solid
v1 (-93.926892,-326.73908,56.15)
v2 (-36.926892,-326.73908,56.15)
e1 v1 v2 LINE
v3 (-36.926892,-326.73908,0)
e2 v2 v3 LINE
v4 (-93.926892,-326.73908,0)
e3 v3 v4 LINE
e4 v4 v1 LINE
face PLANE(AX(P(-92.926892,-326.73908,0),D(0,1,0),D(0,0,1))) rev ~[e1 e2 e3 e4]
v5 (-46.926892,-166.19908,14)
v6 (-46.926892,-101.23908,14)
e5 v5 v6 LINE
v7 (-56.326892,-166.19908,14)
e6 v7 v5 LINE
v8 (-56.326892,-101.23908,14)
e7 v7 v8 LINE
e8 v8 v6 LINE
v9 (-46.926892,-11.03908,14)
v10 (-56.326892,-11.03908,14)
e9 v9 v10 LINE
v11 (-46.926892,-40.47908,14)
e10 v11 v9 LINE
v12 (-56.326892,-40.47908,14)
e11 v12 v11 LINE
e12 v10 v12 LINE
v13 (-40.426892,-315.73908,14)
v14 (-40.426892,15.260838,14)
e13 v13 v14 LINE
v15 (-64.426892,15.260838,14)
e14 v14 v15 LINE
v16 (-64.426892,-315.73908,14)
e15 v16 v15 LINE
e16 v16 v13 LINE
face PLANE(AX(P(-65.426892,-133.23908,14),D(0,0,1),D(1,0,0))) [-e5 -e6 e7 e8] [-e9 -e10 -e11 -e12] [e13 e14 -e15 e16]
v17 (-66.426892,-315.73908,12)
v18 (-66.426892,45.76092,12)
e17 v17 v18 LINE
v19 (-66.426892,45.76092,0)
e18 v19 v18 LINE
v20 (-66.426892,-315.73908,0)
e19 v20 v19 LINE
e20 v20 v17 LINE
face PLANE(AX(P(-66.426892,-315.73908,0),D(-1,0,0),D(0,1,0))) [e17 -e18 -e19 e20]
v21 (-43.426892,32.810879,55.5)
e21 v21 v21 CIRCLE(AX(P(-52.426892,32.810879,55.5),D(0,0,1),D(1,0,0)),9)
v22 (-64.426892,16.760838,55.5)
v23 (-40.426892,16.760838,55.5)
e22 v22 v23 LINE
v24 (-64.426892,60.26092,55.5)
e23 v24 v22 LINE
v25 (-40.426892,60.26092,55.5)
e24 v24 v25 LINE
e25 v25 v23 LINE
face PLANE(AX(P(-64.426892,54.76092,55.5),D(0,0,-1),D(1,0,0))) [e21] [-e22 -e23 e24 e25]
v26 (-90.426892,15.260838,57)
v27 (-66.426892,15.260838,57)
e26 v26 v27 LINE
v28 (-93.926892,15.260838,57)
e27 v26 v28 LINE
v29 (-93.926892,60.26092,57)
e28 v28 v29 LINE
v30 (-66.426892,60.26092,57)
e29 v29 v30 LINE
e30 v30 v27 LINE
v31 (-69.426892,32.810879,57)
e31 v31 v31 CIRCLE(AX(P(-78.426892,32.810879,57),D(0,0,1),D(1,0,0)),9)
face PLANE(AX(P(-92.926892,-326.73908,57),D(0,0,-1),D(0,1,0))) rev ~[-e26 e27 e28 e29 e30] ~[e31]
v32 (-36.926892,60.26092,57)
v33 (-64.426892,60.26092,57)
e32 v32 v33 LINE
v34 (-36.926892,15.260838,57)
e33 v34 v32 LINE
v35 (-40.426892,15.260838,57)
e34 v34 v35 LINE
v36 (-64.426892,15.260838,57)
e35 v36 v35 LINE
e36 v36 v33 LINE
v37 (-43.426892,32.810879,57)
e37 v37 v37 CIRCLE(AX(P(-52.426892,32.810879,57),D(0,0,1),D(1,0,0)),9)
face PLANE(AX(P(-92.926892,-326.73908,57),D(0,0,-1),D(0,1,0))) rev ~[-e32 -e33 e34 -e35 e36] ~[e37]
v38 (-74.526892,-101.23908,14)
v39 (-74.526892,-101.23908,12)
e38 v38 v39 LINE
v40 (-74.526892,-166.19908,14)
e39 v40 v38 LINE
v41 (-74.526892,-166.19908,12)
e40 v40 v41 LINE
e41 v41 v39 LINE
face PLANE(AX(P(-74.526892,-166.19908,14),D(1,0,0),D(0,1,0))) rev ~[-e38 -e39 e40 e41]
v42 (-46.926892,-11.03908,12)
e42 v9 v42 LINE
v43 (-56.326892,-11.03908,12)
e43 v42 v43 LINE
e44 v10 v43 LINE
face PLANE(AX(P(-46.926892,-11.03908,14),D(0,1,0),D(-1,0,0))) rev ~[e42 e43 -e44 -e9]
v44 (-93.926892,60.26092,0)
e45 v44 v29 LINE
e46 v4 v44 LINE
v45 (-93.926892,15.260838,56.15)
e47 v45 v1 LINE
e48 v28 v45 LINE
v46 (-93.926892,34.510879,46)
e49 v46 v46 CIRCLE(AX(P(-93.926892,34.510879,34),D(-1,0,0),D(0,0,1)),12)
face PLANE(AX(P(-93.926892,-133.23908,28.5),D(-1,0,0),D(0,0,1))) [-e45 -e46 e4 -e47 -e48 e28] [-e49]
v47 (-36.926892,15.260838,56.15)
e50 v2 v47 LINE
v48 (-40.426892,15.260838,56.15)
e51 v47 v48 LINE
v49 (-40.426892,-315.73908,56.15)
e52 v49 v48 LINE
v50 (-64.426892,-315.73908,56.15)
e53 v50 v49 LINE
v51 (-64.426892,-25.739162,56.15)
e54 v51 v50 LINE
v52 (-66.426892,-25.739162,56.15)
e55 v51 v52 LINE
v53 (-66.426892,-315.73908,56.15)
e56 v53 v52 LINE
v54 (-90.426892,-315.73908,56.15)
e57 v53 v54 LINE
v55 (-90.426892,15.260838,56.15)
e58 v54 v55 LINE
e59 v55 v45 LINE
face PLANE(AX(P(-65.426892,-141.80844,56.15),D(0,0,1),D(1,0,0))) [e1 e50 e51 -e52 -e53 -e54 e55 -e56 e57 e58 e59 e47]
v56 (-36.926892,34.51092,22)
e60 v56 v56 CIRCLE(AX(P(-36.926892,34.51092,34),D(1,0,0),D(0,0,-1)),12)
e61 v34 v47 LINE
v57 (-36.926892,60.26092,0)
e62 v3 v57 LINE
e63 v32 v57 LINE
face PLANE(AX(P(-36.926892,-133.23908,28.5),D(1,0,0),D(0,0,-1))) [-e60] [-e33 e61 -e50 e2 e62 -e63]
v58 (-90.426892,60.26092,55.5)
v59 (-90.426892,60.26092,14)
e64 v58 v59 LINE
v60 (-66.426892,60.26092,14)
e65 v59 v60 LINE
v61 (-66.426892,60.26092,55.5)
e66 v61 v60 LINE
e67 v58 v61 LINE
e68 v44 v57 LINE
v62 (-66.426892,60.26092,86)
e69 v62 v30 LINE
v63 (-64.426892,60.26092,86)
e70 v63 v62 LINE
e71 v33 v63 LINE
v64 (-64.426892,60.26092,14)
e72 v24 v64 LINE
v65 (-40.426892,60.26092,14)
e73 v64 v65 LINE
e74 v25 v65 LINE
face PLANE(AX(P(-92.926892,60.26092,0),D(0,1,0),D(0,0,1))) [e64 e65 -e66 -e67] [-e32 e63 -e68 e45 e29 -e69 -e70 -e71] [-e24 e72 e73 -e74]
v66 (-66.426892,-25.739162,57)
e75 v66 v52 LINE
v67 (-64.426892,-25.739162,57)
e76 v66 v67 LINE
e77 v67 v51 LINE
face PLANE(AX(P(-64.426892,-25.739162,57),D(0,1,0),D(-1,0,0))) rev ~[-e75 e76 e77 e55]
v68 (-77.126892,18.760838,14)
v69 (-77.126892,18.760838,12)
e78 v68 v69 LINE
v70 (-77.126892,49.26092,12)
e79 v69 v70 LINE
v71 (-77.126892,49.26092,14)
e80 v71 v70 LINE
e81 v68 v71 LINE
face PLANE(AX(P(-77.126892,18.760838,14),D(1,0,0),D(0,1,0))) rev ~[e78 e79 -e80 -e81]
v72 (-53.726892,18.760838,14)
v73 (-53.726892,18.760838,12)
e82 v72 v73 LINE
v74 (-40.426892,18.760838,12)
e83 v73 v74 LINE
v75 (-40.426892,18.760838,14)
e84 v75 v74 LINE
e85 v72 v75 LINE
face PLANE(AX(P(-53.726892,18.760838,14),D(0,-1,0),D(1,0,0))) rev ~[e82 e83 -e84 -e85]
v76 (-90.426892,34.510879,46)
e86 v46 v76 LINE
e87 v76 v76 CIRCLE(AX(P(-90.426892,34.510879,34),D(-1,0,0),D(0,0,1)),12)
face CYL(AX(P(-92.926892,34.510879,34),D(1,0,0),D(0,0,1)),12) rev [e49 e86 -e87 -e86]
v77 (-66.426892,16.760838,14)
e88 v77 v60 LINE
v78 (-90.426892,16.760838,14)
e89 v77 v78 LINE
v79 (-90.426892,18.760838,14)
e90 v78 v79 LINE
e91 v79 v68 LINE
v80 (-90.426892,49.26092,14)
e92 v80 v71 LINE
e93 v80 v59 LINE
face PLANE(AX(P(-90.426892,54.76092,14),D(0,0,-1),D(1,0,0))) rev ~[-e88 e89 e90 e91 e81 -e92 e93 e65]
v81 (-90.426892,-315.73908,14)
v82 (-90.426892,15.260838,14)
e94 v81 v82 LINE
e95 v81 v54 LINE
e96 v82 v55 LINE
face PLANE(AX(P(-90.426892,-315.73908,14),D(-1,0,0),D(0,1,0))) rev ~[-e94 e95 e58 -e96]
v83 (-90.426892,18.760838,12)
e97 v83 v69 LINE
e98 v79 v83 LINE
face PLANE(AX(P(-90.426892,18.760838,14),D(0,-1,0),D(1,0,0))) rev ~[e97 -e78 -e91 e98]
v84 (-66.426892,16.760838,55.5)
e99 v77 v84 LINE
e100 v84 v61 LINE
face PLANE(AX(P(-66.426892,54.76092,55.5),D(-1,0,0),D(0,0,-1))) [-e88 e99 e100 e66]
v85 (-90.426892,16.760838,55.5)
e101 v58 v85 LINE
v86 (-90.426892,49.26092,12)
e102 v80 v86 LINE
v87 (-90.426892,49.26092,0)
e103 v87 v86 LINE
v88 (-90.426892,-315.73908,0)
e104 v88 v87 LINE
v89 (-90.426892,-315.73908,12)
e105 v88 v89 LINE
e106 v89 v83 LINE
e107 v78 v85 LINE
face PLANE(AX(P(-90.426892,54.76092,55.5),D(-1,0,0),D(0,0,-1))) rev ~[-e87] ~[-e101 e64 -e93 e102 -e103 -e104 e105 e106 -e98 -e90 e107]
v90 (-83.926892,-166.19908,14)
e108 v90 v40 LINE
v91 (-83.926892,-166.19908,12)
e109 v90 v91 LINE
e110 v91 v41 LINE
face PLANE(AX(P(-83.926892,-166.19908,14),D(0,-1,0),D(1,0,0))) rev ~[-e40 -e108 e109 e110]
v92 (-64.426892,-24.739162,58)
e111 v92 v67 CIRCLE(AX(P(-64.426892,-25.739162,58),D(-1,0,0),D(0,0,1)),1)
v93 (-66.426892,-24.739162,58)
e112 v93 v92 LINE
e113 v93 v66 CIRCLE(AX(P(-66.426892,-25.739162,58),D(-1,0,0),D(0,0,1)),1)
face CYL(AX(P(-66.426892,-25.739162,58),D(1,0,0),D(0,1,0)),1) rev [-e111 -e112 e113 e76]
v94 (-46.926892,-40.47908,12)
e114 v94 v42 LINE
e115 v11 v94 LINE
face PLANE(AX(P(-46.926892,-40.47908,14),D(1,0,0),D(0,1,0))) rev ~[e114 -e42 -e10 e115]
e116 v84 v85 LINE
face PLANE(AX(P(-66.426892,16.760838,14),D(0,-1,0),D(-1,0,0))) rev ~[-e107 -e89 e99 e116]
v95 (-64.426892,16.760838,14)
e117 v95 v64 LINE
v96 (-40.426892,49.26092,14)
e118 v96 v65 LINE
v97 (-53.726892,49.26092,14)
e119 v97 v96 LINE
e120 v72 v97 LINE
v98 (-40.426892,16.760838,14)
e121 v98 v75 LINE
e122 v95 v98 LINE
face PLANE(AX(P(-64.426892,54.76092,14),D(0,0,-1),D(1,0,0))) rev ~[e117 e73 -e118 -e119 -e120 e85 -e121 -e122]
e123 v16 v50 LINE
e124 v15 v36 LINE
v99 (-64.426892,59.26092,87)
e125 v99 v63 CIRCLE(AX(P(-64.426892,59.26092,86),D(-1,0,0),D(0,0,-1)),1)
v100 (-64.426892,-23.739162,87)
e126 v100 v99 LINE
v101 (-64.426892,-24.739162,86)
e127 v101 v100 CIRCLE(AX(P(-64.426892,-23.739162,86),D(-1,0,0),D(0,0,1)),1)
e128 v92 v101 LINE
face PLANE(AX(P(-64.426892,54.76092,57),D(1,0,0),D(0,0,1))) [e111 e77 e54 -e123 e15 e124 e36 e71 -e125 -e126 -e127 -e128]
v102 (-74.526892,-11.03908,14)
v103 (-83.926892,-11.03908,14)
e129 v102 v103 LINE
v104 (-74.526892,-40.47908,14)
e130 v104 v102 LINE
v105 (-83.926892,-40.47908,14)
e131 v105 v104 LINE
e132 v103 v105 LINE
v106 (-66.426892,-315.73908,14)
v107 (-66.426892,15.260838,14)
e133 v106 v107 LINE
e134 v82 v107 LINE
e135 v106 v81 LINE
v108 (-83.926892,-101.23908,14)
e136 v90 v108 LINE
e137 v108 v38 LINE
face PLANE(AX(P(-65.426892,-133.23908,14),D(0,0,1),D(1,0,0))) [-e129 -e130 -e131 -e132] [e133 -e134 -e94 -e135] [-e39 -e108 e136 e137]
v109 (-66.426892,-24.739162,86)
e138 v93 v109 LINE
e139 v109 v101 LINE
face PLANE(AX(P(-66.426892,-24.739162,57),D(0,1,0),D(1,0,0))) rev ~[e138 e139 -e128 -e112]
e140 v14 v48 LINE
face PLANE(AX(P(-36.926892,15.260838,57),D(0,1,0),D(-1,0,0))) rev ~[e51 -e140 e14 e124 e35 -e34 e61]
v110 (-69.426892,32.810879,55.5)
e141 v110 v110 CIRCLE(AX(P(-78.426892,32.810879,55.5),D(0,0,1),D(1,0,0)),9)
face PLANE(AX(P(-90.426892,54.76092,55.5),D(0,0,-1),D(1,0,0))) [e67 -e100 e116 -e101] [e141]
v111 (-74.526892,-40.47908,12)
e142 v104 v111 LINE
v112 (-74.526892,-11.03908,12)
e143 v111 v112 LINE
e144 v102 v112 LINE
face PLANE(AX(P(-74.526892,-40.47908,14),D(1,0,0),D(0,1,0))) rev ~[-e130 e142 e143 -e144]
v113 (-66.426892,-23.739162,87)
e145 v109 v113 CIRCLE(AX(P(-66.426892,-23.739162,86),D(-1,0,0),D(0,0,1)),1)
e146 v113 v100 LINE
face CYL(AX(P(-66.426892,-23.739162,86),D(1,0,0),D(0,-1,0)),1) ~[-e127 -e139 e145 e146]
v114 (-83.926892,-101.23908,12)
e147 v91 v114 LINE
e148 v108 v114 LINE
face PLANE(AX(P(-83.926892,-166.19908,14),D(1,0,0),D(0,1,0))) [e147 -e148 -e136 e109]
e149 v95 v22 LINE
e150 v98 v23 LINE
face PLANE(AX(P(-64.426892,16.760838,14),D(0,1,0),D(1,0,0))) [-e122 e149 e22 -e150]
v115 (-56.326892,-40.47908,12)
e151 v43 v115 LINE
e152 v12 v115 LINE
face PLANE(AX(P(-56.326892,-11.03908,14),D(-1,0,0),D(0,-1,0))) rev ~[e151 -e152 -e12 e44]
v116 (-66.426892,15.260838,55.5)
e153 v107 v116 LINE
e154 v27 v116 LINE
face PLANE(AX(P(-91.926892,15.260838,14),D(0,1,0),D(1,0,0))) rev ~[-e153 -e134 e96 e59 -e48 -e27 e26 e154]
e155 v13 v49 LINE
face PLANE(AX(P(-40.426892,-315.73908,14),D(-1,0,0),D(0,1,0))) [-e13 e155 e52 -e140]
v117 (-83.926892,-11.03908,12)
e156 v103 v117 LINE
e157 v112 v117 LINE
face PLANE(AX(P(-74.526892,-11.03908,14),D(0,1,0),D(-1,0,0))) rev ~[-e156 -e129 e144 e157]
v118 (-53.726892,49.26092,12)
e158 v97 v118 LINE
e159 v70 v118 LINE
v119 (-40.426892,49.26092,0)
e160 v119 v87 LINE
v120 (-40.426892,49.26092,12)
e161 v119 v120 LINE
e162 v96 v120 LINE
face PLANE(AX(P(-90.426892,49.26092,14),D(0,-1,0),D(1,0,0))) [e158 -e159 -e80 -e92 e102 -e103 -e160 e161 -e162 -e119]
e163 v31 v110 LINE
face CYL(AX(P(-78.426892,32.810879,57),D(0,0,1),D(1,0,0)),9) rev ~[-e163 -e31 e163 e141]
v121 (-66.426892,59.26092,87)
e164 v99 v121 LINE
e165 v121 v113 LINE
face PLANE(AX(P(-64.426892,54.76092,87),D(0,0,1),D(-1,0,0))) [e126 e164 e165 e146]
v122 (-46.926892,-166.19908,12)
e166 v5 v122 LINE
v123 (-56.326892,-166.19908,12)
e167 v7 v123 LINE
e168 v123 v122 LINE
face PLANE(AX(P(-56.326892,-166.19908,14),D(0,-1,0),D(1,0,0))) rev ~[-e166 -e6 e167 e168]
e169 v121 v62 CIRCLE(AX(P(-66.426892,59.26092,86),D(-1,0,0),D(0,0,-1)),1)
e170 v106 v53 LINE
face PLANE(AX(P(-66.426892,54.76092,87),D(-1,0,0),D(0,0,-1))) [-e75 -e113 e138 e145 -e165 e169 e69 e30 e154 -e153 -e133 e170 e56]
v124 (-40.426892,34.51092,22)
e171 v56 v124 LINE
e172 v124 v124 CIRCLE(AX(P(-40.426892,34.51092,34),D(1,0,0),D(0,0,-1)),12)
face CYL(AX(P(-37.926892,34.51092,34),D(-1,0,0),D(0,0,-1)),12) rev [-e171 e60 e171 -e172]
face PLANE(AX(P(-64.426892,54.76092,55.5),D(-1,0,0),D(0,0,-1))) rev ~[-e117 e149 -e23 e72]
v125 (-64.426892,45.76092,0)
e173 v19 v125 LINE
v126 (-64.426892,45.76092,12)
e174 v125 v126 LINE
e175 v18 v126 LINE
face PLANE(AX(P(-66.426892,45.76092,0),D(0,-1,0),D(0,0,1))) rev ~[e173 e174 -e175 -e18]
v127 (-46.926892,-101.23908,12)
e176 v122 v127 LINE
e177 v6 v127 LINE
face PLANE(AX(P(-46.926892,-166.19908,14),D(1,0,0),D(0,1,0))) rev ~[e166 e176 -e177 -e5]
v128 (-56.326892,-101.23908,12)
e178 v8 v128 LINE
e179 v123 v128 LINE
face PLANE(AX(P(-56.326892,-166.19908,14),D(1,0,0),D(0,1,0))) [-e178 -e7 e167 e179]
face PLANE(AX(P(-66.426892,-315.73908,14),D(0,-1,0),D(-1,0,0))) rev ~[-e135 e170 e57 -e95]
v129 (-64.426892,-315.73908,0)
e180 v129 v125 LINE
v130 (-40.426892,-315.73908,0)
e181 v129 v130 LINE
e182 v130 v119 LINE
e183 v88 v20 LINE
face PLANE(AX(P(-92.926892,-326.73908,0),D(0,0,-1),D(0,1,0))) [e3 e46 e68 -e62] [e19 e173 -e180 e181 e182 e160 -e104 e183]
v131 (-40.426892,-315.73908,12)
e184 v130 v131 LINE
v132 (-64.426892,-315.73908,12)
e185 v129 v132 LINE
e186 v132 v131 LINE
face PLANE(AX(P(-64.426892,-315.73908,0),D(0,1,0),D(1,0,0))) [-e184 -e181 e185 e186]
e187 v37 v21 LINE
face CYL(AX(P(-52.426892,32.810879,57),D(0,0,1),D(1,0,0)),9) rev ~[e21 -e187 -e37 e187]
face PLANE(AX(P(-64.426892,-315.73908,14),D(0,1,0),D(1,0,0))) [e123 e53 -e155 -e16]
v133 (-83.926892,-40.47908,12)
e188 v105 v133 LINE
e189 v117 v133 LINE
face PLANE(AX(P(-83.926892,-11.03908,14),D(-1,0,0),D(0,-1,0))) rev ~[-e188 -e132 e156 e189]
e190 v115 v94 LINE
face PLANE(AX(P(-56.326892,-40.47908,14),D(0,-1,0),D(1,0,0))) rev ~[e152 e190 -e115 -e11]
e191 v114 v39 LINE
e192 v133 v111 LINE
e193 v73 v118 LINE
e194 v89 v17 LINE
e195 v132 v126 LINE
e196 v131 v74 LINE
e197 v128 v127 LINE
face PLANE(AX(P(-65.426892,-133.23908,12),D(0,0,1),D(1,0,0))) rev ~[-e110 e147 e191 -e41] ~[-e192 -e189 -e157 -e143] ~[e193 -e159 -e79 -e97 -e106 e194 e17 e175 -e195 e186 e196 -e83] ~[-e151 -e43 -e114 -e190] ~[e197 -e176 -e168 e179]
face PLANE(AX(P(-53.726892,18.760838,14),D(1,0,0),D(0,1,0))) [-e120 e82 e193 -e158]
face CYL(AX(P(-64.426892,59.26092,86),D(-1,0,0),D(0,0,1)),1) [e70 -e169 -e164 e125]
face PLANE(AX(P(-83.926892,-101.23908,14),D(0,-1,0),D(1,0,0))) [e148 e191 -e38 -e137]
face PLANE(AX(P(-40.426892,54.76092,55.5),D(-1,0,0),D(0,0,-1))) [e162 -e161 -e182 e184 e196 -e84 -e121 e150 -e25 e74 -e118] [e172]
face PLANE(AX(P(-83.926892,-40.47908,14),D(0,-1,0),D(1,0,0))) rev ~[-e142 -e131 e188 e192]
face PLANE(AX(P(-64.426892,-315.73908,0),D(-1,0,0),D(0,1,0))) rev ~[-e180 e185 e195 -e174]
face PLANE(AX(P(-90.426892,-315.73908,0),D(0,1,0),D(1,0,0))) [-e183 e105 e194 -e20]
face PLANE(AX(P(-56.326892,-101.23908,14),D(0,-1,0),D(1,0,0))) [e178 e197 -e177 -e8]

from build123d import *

# Parameters (mm, degrees)
SZKIC1_W                     = 53
SZKIC1_H                     = 374
SZKIC1_W_2                   = 24
SZKIC1_H_2                   = 365
DODANIE_WYCI_GNI_CIE2_DEPTH  = 12
SZKIC2_W                     = 12
SZKIC2_H                     = 3.5
WYTNIJ_WYCI_GNI_CIE1_DEPTH   = 2
SZKIC3_W                     = 53
SZKIC3_H                     = 374
DODANIE_WYCI_GNI_CIE3_DEPTH  = 2
SZKIC4_W                     = 13.3
SZKIC4_H                     = 30.500081729
SZKIC4_W_2                   = 9.4
SZKIC4_H_2                   = 64.96
WYTNIJ_WYCI_GNI_CIE2_DEPTH   = 2
SZKIC5_W                     = 2
SZKIC5_H                     = 374
DODANIE_WYCI_GNI_CIE4_DEPTH  = 43
DODANIE_WYCI_GNI_CIE5_DEPTH  = 41.5
SZKIC7_W                     = 25.5
SZKIC7_H                     = 38.500081729
DODANIE_WYCI_GNI_CIE6_DEPTH  = 1.5
SZKIC9_R                     = 12
WYTNIJ_WYCI_GNI_CIE4_DEPTH   = 1.5
DODANIE_WYCI_GNI_CIE7_DEPTH  = 43
DODANIE_WYCI_GNI_CIE8_DEPTH  = 43
SZKIC12_R                    = 12
WYTNIJ_WYCI_GNI_CIE5_DEPTH   = 1.5
SZKIC13_R                    = 9
WYTNIJ_WYCI_GNI_CIE6_DEPTH   = 1.5
SZKIC14_W                    = 57
SZKIC14_H                    = 374
SZKIC14_R                    = 12
DODANIE_WYCI_GNI_CIE9_DEPTH  = 1
SZKIC15_W                    = 57
SZKIC15_H                    = 374
SZKIC15_R                    = 12
DODANIE_WYCI_GNI_CIE10_DEPTH = 1
SZKIC16_W                    = 55
SZKIC16_H                    = 57
SZKIC16_W_2                  = 24
SZKIC16_H_2                  = 41.5
DODANIE_WYCI_GNI_CIE11_DEPTH = 1
SZKIC17_W                    = 55
SZKIC17_H                    = 57
DODANIE_WYCI_GNI_CIE12_DEPTH = 1
DODANIE_WYCI_GNI_CIE13_DEPTH = 30
SZKIC20_W                    = 55
SZKIC20_H                    = 57
DODANIE_WYCI_GNI_CIE14_DEPTH = 5.5
SZKIC21_W                    = 24
SZKIC21_H                    = 41.5
DODANIE_WYCI_GNI_CIE15_DEPTH = 5.5
SZKIC22_W                    = 57
SZKIC22_H                    = 387
SZKIC22_R                    = 12
DODANIE_WYCI_GNI_CIE16_DEPTH = 1
SZKIC23_W                    = 57
SZKIC23_H                    = 387
SZKIC23_R                    = 12
DODANIE_WYCI_GNI_CIE17_DEPTH = 1
ZAOKR_GLENIE1_R              = 1
ZAOKR_GLENIE2_R              = 1
ZAOKR_GLENIE3_R              = 1
WYTNIJ_WYCI_GNI_CIE7_DEPTH   = 0.85


with BuildPart() as part:
    # Szkic1 → Dodanie-wyciągnięcie2 (new body)
    with BuildSketch(Plane.XY):
        with Locations((-65.426891924, -133.239080048)):
            Rectangle(SZKIC1_W, SZKIC1_H)
        with Locations((-78.426891924, -133.239080048)):
            Rectangle(SZKIC1_W_2, SZKIC1_H_2, mode=Mode.SUBTRACT)
        with Locations((-52.426891924, -133.239080048)):
            Rectangle(SZKIC1_W_2, SZKIC1_H_2, mode=Mode.SUBTRACT)
    extrude(amount=DODANIE_WYCI_GNI_CIE2_DEPTH)

    # Szkic2 → Wytnij-wyciągnięcie1 (cut)
    with BuildSketch(Plane.ZY.offset(66.426891924)):
        with Locations((6, 47.510919952)):
            Rectangle(SZKIC2_W, SZKIC2_H)
    extrude(amount=-WYTNIJ_WYCI_GNI_CIE1_DEPTH, mode=Mode.SUBTRACT)

    # Szkic3 → Dodanie-wyciągnięcie3 (add)
    with BuildSketch(Plane.XY.offset(12)):
        with Locations((-65.426891924, -133.239080048)):
            Rectangle(SZKIC3_W, SZKIC3_H)
    extrude(amount=DODANIE_WYCI_GNI_CIE3_DEPTH)

    # Szkic4 → Wytnij-wyciągnięcie2 (cut)
    with BuildSketch(Plane.XY.offset(14)):
        Polygon((-46.926891924, -11.039080048), (-56.326891924, -11.039080048), (-56.326891924, -35.399080048), (-56.326891924, -40.479080048), (-46.926891924, -40.479080048), (-46.926891924, -35.399080048), align=None)
        with Locations((-47.076891924, 34.010879088)):
            Rectangle(SZKIC4_W, SZKIC4_H)
        with Locations((-83.776891924, 34.010879088)):
            Rectangle(SZKIC4_W, SZKIC4_H)
        Polygon((-74.526891924, -35.399080048), (-74.526891924, -11.039080048), (-83.926891924, -11.039080048), (-83.926891924, -35.399080048), (-83.926891924, -40.479080048), (-74.526891924, -40.479080048), align=None)
        with Locations((-51.626891924, -133.719080048)):
            Rectangle(SZKIC4_W_2, SZKIC4_H_2)
        with Locations((-79.226891924, -133.719080048)):
            Rectangle(SZKIC4_W_2, SZKIC4_H_2)
    extrude(amount=-WYTNIJ_WYCI_GNI_CIE2_DEPTH, mode=Mode.SUBTRACT)

    # Szkic5 → Dodanie-wyciągnięcie4 (add)
    with BuildSketch(Plane.XY.offset(14)):
        with Locations((-65.426891924, -133.239080048)):
            Rectangle(SZKIC5_W, SZKIC5_H)
    extrude(amount=DODANIE_WYCI_GNI_CIE4_DEPTH)

    # Szkic6 → Dodanie-wyciągnięcie5 (add)
    with BuildSketch(Plane.XY.offset(14)):
        Polygon((-64.426891924, 16.760838223), (-40.426891924, 16.760838223), (-40.426891924, 53.760919952), (-38.926891924, 53.760919952), (-38.926891924, 15.260838223), (-64.426891924, 15.260838223), align=None)
        Polygon((-90.426891924, 53.760919952), (-91.926891924, 53.760919952), (-91.926891924, 15.260838223), (-66.426891924, 15.260838223), (-66.426891924, 16.760838223), (-90.426891924, 16.760838223), align=None)
    extrude(amount=DODANIE_WYCI_GNI_CIE5_DEPTH)

    # Szkic7 → Dodanie-wyciągnięcie6 (add)
    with BuildSketch(Plane.XY.offset(55.5)):
        with Locations((-51.676891924, 34.510879088)):
            Rectangle(SZKIC7_W, SZKIC7_H)
        with Locations((-79.176891924, 34.510879088)):
            Rectangle(SZKIC7_W, SZKIC7_H)
    extrude(amount=DODANIE_WYCI_GNI_CIE6_DEPTH)

    # Szkic9 → Wytnij-wyciągnięcie4 (cut)
    with BuildSketch(Plane.ZY.offset(91.926891924)):
        with Locations((34, 34.510879088)):
            Circle(SZKIC9_R)
    extrude(amount=-WYTNIJ_WYCI_GNI_CIE4_DEPTH, mode=Mode.SUBTRACT)

    # Szkic10 → Dodanie-wyciągnięcie7 (add)
    with BuildSketch(Plane.XY.offset(14)):
        Polygon((-91.926891924, 15.260838223), (-91.926891924, -320.239080048), (-66.426891924, -320.239080048), (-66.426891924, -315.739080048), (-90.426891924, -315.739080048), (-90.426891924, 15.260838223), align=None)
    extrude(amount=DODANIE_WYCI_GNI_CIE7_DEPTH)

    # Szkic11 → Dodanie-wyciągnięcie8 (add)
    with BuildSketch(Plane.XY.offset(14)):
        Polygon((-38.926891924, 15.260838223), (-38.926891924, -320.239080048), (-64.426891924, -320.239080048), (-64.426891924, -315.739080048), (-40.426891924, -315.739080048), (-40.426891924, 15.260838223), align=None)
    extrude(amount=DODANIE_WYCI_GNI_CIE8_DEPTH)

    # Szkic12 → Wytnij-wyciągnięcie5 (cut)
    with BuildSketch(Plane(origin=(-38.926891924, 0, 0), x_dir=(0, 0, -1), z_dir=(1, 0, 0))):
        with Locations((-34, 34.510919952)):
            Circle(SZKIC12_R)
    extrude(amount=-WYTNIJ_WYCI_GNI_CIE5_DEPTH, mode=Mode.SUBTRACT)

    # Szkic13 → Wytnij-wyciągnięcie6 (cut)
    with BuildSketch(Plane.XY.offset(57)):
        with Locations((-78.426891924, 32.810879088)):
            Circle(SZKIC13_R)
        with Locations((-52.426891924, 32.810879088)):
            Circle(SZKIC13_R)
    extrude(amount=-WYTNIJ_WYCI_GNI_CIE6_DEPTH, mode=Mode.SUBTRACT)

    # Szkic14 → Dodanie-wyciągnięcie9 (add)
    with BuildSketch(Plane(origin=(-38.926891924, 0, 0), x_dir=(0, 0, -1), z_dir=(1, 0, 0))):
        with Locations((-28.5, -133.239080048)):
            Rectangle(SZKIC14_W, SZKIC14_H)
        with Locations((-34, 34.510919952)):
            Circle(SZKIC14_R, mode=Mode.SUBTRACT)
    extrude(amount=DODANIE_WYCI_GNI_CIE9_DEPTH)

    # Szkic15 → Dodanie-wyciągnięcie10 (add)
    with BuildSketch(Plane.ZY.offset(91.926891924)):
        with Locations((28.5, -133.239080048)):
            Rectangle(SZKIC15_W, SZKIC15_H)
        with Locations((34, 34.510879088)):
            Circle(SZKIC15_R, mode=Mode.SUBTRACT)
    extrude(amount=DODANIE_WYCI_GNI_CIE10_DEPTH)

    # Szkic16 → Dodanie-wyciągnięcie11 (add)
    with BuildSketch(Plane(origin=(0, 53.760919952, 0), x_dir=(1, 0, 0), z_dir=(0, 1, 0))):
        with Locations((-65.426891924, -28.5)):
            Rectangle(SZKIC16_W, SZKIC16_H)
        with Locations((-52.426891924, -34.75)):
            Rectangle(SZKIC16_W_2, SZKIC16_H_2, mode=Mode.SUBTRACT)
        with Locations((-78.426891924, -34.75)):
            Rectangle(SZKIC16_W_2, SZKIC16_H_2, mode=Mode.SUBTRACT)
    extrude(amount=DODANIE_WYCI_GNI_CIE11_DEPTH)

    # Szkic17 → Dodanie-wyciągnięcie12 (add)
    with BuildSketch(Plane.XZ.offset(320.239080048)):
        with Locations((-65.426891924, 28.5)):
            Rectangle(SZKIC17_W, SZKIC17_H)
    extrude(amount=DODANIE_WYCI_GNI_CIE12_DEPTH)

    # Szkic18 → Dodanie-wyciągnięcie13 (add)
    with BuildSketch(Plane.XY.offset(57)):
        Polygon((-64.426891924, 15.260838223), (-64.426891924, 54.760919952), (-66.426891924, 54.760919952), (-66.426891924, 15.260838223), (-66.426891924, -4.739161777), (-66.426891924, -24.739161777), (-64.426891924, -24.739161777), (-64.426891924, -4.739161777), align=None)
    extrude(amount=DODANIE_WYCI_GNI_CIE13_DEPTH)

    # Szkic20 → Dodanie-wyciągnięcie14 (add)
    with BuildSketch(Plane.XZ.offset(321.239080048)):
        with Locations((-65.426891924, 28.5)):
            Rectangle(SZKIC20_W, SZKIC20_H)
    extrude(amount=DODANIE_WYCI_GNI_CIE14_DEPTH)

    # Szkic21 → Dodanie-wyciągnięcie15 (add)
    with BuildSketch(Plane(origin=(0, 54.760919952, 0), x_dir=(1, 0, 0), z_dir=(0, 1, 0))):
        Polygon((-64.426891924, -87), (-66.426891924, -87), (-66.426891924, -57), (-92.926891924, -57), (-92.926891924, 0), (-37.926891924, 0), (-37.926891924, -57), (-64.426891924, -57), align=None)
        with Locations((-52.426891924, -34.75)):
            Rectangle(SZKIC21_W, SZKIC21_H, mode=Mode.SUBTRACT)
        with Locations((-78.426891924, -34.75)):
            Rectangle(SZKIC21_W, SZKIC21_H, mode=Mode.SUBTRACT)
    extrude(amount=DODANIE_WYCI_GNI_CIE15_DEPTH)

    # Szkic22 → Dodanie-wyciągnięcie16 (add)
    with BuildSketch(Plane(origin=(-37.926891924, 0, 0), x_dir=(0, 0, -1), z_dir=(1, 0, 0))):
        with Locations((-28.5, -133.239080048)):
            Rectangle(SZKIC22_W, SZKIC22_H)
        with Locations((-34, 34.510919952)):
            Circle(SZKIC22_R, mode=Mode.SUBTRACT)
    extrude(amount=DODANIE_WYCI_GNI_CIE16_DEPTH)

    # Szkic23 → Dodanie-wyciągnięcie17 (add)
    with BuildSketch(Plane.ZY.offset(92.926891924)):
        with Locations((28.5, -133.239080048)):
            Rectangle(SZKIC23_W, SZKIC23_H)
        with Locations((34, 34.510879088)):
            Circle(SZKIC23_R, mode=Mode.SUBTRACT)
    extrude(amount=DODANIE_WYCI_GNI_CIE17_DEPTH)

    # Zaokrąglenie1
    zaokr_glenie1_edges = [part.edges().sort_by_distance(p)[0] for p in [
        (-65.426891924, -24.739161777, 87),
    ]]
    fillet(zaokr_glenie1_edges, radius=ZAOKR_GLENIE1_R)

    # Zaokrąglenie2
    zaokr_glenie2_edges = [part.edges().sort_by_distance(p)[0] for p in [
        (-65.426891924, -24.739161777, 57),
    ]]
    fillet(zaokr_glenie2_edges, radius=ZAOKR_GLENIE2_R)

    # Zaokrąglenie3
    zaokr_glenie3_edges = [part.edges().sort_by_distance(p)[0] for p in [
        (-65.426891924, 60.260919952, 87),
    ]]
    fillet(zaokr_glenie3_edges, radius=ZAOKR_GLENIE3_R)

    # Szkic24 → Wytnij-wyciągnięcie7 (cut)
    with BuildSketch(Plane.XY.offset(57)):
        Polygon((-64.426891924, 15.260838223), (-64.426891924, -25.739161777), (-66.426891924, -25.739161777), (-66.426891924, 15.260838223), (-93.926891924, 15.260838223), (-93.926891924, -326.739080048), (-36.926891924, -326.739080048), (-36.926891924, 15.260838223), align=None)
    extrude(amount=-WYTNIJ_WYCI_GNI_CIE7_DEPTH, mode=Mode.SUBTRACT)


solid = part.part
